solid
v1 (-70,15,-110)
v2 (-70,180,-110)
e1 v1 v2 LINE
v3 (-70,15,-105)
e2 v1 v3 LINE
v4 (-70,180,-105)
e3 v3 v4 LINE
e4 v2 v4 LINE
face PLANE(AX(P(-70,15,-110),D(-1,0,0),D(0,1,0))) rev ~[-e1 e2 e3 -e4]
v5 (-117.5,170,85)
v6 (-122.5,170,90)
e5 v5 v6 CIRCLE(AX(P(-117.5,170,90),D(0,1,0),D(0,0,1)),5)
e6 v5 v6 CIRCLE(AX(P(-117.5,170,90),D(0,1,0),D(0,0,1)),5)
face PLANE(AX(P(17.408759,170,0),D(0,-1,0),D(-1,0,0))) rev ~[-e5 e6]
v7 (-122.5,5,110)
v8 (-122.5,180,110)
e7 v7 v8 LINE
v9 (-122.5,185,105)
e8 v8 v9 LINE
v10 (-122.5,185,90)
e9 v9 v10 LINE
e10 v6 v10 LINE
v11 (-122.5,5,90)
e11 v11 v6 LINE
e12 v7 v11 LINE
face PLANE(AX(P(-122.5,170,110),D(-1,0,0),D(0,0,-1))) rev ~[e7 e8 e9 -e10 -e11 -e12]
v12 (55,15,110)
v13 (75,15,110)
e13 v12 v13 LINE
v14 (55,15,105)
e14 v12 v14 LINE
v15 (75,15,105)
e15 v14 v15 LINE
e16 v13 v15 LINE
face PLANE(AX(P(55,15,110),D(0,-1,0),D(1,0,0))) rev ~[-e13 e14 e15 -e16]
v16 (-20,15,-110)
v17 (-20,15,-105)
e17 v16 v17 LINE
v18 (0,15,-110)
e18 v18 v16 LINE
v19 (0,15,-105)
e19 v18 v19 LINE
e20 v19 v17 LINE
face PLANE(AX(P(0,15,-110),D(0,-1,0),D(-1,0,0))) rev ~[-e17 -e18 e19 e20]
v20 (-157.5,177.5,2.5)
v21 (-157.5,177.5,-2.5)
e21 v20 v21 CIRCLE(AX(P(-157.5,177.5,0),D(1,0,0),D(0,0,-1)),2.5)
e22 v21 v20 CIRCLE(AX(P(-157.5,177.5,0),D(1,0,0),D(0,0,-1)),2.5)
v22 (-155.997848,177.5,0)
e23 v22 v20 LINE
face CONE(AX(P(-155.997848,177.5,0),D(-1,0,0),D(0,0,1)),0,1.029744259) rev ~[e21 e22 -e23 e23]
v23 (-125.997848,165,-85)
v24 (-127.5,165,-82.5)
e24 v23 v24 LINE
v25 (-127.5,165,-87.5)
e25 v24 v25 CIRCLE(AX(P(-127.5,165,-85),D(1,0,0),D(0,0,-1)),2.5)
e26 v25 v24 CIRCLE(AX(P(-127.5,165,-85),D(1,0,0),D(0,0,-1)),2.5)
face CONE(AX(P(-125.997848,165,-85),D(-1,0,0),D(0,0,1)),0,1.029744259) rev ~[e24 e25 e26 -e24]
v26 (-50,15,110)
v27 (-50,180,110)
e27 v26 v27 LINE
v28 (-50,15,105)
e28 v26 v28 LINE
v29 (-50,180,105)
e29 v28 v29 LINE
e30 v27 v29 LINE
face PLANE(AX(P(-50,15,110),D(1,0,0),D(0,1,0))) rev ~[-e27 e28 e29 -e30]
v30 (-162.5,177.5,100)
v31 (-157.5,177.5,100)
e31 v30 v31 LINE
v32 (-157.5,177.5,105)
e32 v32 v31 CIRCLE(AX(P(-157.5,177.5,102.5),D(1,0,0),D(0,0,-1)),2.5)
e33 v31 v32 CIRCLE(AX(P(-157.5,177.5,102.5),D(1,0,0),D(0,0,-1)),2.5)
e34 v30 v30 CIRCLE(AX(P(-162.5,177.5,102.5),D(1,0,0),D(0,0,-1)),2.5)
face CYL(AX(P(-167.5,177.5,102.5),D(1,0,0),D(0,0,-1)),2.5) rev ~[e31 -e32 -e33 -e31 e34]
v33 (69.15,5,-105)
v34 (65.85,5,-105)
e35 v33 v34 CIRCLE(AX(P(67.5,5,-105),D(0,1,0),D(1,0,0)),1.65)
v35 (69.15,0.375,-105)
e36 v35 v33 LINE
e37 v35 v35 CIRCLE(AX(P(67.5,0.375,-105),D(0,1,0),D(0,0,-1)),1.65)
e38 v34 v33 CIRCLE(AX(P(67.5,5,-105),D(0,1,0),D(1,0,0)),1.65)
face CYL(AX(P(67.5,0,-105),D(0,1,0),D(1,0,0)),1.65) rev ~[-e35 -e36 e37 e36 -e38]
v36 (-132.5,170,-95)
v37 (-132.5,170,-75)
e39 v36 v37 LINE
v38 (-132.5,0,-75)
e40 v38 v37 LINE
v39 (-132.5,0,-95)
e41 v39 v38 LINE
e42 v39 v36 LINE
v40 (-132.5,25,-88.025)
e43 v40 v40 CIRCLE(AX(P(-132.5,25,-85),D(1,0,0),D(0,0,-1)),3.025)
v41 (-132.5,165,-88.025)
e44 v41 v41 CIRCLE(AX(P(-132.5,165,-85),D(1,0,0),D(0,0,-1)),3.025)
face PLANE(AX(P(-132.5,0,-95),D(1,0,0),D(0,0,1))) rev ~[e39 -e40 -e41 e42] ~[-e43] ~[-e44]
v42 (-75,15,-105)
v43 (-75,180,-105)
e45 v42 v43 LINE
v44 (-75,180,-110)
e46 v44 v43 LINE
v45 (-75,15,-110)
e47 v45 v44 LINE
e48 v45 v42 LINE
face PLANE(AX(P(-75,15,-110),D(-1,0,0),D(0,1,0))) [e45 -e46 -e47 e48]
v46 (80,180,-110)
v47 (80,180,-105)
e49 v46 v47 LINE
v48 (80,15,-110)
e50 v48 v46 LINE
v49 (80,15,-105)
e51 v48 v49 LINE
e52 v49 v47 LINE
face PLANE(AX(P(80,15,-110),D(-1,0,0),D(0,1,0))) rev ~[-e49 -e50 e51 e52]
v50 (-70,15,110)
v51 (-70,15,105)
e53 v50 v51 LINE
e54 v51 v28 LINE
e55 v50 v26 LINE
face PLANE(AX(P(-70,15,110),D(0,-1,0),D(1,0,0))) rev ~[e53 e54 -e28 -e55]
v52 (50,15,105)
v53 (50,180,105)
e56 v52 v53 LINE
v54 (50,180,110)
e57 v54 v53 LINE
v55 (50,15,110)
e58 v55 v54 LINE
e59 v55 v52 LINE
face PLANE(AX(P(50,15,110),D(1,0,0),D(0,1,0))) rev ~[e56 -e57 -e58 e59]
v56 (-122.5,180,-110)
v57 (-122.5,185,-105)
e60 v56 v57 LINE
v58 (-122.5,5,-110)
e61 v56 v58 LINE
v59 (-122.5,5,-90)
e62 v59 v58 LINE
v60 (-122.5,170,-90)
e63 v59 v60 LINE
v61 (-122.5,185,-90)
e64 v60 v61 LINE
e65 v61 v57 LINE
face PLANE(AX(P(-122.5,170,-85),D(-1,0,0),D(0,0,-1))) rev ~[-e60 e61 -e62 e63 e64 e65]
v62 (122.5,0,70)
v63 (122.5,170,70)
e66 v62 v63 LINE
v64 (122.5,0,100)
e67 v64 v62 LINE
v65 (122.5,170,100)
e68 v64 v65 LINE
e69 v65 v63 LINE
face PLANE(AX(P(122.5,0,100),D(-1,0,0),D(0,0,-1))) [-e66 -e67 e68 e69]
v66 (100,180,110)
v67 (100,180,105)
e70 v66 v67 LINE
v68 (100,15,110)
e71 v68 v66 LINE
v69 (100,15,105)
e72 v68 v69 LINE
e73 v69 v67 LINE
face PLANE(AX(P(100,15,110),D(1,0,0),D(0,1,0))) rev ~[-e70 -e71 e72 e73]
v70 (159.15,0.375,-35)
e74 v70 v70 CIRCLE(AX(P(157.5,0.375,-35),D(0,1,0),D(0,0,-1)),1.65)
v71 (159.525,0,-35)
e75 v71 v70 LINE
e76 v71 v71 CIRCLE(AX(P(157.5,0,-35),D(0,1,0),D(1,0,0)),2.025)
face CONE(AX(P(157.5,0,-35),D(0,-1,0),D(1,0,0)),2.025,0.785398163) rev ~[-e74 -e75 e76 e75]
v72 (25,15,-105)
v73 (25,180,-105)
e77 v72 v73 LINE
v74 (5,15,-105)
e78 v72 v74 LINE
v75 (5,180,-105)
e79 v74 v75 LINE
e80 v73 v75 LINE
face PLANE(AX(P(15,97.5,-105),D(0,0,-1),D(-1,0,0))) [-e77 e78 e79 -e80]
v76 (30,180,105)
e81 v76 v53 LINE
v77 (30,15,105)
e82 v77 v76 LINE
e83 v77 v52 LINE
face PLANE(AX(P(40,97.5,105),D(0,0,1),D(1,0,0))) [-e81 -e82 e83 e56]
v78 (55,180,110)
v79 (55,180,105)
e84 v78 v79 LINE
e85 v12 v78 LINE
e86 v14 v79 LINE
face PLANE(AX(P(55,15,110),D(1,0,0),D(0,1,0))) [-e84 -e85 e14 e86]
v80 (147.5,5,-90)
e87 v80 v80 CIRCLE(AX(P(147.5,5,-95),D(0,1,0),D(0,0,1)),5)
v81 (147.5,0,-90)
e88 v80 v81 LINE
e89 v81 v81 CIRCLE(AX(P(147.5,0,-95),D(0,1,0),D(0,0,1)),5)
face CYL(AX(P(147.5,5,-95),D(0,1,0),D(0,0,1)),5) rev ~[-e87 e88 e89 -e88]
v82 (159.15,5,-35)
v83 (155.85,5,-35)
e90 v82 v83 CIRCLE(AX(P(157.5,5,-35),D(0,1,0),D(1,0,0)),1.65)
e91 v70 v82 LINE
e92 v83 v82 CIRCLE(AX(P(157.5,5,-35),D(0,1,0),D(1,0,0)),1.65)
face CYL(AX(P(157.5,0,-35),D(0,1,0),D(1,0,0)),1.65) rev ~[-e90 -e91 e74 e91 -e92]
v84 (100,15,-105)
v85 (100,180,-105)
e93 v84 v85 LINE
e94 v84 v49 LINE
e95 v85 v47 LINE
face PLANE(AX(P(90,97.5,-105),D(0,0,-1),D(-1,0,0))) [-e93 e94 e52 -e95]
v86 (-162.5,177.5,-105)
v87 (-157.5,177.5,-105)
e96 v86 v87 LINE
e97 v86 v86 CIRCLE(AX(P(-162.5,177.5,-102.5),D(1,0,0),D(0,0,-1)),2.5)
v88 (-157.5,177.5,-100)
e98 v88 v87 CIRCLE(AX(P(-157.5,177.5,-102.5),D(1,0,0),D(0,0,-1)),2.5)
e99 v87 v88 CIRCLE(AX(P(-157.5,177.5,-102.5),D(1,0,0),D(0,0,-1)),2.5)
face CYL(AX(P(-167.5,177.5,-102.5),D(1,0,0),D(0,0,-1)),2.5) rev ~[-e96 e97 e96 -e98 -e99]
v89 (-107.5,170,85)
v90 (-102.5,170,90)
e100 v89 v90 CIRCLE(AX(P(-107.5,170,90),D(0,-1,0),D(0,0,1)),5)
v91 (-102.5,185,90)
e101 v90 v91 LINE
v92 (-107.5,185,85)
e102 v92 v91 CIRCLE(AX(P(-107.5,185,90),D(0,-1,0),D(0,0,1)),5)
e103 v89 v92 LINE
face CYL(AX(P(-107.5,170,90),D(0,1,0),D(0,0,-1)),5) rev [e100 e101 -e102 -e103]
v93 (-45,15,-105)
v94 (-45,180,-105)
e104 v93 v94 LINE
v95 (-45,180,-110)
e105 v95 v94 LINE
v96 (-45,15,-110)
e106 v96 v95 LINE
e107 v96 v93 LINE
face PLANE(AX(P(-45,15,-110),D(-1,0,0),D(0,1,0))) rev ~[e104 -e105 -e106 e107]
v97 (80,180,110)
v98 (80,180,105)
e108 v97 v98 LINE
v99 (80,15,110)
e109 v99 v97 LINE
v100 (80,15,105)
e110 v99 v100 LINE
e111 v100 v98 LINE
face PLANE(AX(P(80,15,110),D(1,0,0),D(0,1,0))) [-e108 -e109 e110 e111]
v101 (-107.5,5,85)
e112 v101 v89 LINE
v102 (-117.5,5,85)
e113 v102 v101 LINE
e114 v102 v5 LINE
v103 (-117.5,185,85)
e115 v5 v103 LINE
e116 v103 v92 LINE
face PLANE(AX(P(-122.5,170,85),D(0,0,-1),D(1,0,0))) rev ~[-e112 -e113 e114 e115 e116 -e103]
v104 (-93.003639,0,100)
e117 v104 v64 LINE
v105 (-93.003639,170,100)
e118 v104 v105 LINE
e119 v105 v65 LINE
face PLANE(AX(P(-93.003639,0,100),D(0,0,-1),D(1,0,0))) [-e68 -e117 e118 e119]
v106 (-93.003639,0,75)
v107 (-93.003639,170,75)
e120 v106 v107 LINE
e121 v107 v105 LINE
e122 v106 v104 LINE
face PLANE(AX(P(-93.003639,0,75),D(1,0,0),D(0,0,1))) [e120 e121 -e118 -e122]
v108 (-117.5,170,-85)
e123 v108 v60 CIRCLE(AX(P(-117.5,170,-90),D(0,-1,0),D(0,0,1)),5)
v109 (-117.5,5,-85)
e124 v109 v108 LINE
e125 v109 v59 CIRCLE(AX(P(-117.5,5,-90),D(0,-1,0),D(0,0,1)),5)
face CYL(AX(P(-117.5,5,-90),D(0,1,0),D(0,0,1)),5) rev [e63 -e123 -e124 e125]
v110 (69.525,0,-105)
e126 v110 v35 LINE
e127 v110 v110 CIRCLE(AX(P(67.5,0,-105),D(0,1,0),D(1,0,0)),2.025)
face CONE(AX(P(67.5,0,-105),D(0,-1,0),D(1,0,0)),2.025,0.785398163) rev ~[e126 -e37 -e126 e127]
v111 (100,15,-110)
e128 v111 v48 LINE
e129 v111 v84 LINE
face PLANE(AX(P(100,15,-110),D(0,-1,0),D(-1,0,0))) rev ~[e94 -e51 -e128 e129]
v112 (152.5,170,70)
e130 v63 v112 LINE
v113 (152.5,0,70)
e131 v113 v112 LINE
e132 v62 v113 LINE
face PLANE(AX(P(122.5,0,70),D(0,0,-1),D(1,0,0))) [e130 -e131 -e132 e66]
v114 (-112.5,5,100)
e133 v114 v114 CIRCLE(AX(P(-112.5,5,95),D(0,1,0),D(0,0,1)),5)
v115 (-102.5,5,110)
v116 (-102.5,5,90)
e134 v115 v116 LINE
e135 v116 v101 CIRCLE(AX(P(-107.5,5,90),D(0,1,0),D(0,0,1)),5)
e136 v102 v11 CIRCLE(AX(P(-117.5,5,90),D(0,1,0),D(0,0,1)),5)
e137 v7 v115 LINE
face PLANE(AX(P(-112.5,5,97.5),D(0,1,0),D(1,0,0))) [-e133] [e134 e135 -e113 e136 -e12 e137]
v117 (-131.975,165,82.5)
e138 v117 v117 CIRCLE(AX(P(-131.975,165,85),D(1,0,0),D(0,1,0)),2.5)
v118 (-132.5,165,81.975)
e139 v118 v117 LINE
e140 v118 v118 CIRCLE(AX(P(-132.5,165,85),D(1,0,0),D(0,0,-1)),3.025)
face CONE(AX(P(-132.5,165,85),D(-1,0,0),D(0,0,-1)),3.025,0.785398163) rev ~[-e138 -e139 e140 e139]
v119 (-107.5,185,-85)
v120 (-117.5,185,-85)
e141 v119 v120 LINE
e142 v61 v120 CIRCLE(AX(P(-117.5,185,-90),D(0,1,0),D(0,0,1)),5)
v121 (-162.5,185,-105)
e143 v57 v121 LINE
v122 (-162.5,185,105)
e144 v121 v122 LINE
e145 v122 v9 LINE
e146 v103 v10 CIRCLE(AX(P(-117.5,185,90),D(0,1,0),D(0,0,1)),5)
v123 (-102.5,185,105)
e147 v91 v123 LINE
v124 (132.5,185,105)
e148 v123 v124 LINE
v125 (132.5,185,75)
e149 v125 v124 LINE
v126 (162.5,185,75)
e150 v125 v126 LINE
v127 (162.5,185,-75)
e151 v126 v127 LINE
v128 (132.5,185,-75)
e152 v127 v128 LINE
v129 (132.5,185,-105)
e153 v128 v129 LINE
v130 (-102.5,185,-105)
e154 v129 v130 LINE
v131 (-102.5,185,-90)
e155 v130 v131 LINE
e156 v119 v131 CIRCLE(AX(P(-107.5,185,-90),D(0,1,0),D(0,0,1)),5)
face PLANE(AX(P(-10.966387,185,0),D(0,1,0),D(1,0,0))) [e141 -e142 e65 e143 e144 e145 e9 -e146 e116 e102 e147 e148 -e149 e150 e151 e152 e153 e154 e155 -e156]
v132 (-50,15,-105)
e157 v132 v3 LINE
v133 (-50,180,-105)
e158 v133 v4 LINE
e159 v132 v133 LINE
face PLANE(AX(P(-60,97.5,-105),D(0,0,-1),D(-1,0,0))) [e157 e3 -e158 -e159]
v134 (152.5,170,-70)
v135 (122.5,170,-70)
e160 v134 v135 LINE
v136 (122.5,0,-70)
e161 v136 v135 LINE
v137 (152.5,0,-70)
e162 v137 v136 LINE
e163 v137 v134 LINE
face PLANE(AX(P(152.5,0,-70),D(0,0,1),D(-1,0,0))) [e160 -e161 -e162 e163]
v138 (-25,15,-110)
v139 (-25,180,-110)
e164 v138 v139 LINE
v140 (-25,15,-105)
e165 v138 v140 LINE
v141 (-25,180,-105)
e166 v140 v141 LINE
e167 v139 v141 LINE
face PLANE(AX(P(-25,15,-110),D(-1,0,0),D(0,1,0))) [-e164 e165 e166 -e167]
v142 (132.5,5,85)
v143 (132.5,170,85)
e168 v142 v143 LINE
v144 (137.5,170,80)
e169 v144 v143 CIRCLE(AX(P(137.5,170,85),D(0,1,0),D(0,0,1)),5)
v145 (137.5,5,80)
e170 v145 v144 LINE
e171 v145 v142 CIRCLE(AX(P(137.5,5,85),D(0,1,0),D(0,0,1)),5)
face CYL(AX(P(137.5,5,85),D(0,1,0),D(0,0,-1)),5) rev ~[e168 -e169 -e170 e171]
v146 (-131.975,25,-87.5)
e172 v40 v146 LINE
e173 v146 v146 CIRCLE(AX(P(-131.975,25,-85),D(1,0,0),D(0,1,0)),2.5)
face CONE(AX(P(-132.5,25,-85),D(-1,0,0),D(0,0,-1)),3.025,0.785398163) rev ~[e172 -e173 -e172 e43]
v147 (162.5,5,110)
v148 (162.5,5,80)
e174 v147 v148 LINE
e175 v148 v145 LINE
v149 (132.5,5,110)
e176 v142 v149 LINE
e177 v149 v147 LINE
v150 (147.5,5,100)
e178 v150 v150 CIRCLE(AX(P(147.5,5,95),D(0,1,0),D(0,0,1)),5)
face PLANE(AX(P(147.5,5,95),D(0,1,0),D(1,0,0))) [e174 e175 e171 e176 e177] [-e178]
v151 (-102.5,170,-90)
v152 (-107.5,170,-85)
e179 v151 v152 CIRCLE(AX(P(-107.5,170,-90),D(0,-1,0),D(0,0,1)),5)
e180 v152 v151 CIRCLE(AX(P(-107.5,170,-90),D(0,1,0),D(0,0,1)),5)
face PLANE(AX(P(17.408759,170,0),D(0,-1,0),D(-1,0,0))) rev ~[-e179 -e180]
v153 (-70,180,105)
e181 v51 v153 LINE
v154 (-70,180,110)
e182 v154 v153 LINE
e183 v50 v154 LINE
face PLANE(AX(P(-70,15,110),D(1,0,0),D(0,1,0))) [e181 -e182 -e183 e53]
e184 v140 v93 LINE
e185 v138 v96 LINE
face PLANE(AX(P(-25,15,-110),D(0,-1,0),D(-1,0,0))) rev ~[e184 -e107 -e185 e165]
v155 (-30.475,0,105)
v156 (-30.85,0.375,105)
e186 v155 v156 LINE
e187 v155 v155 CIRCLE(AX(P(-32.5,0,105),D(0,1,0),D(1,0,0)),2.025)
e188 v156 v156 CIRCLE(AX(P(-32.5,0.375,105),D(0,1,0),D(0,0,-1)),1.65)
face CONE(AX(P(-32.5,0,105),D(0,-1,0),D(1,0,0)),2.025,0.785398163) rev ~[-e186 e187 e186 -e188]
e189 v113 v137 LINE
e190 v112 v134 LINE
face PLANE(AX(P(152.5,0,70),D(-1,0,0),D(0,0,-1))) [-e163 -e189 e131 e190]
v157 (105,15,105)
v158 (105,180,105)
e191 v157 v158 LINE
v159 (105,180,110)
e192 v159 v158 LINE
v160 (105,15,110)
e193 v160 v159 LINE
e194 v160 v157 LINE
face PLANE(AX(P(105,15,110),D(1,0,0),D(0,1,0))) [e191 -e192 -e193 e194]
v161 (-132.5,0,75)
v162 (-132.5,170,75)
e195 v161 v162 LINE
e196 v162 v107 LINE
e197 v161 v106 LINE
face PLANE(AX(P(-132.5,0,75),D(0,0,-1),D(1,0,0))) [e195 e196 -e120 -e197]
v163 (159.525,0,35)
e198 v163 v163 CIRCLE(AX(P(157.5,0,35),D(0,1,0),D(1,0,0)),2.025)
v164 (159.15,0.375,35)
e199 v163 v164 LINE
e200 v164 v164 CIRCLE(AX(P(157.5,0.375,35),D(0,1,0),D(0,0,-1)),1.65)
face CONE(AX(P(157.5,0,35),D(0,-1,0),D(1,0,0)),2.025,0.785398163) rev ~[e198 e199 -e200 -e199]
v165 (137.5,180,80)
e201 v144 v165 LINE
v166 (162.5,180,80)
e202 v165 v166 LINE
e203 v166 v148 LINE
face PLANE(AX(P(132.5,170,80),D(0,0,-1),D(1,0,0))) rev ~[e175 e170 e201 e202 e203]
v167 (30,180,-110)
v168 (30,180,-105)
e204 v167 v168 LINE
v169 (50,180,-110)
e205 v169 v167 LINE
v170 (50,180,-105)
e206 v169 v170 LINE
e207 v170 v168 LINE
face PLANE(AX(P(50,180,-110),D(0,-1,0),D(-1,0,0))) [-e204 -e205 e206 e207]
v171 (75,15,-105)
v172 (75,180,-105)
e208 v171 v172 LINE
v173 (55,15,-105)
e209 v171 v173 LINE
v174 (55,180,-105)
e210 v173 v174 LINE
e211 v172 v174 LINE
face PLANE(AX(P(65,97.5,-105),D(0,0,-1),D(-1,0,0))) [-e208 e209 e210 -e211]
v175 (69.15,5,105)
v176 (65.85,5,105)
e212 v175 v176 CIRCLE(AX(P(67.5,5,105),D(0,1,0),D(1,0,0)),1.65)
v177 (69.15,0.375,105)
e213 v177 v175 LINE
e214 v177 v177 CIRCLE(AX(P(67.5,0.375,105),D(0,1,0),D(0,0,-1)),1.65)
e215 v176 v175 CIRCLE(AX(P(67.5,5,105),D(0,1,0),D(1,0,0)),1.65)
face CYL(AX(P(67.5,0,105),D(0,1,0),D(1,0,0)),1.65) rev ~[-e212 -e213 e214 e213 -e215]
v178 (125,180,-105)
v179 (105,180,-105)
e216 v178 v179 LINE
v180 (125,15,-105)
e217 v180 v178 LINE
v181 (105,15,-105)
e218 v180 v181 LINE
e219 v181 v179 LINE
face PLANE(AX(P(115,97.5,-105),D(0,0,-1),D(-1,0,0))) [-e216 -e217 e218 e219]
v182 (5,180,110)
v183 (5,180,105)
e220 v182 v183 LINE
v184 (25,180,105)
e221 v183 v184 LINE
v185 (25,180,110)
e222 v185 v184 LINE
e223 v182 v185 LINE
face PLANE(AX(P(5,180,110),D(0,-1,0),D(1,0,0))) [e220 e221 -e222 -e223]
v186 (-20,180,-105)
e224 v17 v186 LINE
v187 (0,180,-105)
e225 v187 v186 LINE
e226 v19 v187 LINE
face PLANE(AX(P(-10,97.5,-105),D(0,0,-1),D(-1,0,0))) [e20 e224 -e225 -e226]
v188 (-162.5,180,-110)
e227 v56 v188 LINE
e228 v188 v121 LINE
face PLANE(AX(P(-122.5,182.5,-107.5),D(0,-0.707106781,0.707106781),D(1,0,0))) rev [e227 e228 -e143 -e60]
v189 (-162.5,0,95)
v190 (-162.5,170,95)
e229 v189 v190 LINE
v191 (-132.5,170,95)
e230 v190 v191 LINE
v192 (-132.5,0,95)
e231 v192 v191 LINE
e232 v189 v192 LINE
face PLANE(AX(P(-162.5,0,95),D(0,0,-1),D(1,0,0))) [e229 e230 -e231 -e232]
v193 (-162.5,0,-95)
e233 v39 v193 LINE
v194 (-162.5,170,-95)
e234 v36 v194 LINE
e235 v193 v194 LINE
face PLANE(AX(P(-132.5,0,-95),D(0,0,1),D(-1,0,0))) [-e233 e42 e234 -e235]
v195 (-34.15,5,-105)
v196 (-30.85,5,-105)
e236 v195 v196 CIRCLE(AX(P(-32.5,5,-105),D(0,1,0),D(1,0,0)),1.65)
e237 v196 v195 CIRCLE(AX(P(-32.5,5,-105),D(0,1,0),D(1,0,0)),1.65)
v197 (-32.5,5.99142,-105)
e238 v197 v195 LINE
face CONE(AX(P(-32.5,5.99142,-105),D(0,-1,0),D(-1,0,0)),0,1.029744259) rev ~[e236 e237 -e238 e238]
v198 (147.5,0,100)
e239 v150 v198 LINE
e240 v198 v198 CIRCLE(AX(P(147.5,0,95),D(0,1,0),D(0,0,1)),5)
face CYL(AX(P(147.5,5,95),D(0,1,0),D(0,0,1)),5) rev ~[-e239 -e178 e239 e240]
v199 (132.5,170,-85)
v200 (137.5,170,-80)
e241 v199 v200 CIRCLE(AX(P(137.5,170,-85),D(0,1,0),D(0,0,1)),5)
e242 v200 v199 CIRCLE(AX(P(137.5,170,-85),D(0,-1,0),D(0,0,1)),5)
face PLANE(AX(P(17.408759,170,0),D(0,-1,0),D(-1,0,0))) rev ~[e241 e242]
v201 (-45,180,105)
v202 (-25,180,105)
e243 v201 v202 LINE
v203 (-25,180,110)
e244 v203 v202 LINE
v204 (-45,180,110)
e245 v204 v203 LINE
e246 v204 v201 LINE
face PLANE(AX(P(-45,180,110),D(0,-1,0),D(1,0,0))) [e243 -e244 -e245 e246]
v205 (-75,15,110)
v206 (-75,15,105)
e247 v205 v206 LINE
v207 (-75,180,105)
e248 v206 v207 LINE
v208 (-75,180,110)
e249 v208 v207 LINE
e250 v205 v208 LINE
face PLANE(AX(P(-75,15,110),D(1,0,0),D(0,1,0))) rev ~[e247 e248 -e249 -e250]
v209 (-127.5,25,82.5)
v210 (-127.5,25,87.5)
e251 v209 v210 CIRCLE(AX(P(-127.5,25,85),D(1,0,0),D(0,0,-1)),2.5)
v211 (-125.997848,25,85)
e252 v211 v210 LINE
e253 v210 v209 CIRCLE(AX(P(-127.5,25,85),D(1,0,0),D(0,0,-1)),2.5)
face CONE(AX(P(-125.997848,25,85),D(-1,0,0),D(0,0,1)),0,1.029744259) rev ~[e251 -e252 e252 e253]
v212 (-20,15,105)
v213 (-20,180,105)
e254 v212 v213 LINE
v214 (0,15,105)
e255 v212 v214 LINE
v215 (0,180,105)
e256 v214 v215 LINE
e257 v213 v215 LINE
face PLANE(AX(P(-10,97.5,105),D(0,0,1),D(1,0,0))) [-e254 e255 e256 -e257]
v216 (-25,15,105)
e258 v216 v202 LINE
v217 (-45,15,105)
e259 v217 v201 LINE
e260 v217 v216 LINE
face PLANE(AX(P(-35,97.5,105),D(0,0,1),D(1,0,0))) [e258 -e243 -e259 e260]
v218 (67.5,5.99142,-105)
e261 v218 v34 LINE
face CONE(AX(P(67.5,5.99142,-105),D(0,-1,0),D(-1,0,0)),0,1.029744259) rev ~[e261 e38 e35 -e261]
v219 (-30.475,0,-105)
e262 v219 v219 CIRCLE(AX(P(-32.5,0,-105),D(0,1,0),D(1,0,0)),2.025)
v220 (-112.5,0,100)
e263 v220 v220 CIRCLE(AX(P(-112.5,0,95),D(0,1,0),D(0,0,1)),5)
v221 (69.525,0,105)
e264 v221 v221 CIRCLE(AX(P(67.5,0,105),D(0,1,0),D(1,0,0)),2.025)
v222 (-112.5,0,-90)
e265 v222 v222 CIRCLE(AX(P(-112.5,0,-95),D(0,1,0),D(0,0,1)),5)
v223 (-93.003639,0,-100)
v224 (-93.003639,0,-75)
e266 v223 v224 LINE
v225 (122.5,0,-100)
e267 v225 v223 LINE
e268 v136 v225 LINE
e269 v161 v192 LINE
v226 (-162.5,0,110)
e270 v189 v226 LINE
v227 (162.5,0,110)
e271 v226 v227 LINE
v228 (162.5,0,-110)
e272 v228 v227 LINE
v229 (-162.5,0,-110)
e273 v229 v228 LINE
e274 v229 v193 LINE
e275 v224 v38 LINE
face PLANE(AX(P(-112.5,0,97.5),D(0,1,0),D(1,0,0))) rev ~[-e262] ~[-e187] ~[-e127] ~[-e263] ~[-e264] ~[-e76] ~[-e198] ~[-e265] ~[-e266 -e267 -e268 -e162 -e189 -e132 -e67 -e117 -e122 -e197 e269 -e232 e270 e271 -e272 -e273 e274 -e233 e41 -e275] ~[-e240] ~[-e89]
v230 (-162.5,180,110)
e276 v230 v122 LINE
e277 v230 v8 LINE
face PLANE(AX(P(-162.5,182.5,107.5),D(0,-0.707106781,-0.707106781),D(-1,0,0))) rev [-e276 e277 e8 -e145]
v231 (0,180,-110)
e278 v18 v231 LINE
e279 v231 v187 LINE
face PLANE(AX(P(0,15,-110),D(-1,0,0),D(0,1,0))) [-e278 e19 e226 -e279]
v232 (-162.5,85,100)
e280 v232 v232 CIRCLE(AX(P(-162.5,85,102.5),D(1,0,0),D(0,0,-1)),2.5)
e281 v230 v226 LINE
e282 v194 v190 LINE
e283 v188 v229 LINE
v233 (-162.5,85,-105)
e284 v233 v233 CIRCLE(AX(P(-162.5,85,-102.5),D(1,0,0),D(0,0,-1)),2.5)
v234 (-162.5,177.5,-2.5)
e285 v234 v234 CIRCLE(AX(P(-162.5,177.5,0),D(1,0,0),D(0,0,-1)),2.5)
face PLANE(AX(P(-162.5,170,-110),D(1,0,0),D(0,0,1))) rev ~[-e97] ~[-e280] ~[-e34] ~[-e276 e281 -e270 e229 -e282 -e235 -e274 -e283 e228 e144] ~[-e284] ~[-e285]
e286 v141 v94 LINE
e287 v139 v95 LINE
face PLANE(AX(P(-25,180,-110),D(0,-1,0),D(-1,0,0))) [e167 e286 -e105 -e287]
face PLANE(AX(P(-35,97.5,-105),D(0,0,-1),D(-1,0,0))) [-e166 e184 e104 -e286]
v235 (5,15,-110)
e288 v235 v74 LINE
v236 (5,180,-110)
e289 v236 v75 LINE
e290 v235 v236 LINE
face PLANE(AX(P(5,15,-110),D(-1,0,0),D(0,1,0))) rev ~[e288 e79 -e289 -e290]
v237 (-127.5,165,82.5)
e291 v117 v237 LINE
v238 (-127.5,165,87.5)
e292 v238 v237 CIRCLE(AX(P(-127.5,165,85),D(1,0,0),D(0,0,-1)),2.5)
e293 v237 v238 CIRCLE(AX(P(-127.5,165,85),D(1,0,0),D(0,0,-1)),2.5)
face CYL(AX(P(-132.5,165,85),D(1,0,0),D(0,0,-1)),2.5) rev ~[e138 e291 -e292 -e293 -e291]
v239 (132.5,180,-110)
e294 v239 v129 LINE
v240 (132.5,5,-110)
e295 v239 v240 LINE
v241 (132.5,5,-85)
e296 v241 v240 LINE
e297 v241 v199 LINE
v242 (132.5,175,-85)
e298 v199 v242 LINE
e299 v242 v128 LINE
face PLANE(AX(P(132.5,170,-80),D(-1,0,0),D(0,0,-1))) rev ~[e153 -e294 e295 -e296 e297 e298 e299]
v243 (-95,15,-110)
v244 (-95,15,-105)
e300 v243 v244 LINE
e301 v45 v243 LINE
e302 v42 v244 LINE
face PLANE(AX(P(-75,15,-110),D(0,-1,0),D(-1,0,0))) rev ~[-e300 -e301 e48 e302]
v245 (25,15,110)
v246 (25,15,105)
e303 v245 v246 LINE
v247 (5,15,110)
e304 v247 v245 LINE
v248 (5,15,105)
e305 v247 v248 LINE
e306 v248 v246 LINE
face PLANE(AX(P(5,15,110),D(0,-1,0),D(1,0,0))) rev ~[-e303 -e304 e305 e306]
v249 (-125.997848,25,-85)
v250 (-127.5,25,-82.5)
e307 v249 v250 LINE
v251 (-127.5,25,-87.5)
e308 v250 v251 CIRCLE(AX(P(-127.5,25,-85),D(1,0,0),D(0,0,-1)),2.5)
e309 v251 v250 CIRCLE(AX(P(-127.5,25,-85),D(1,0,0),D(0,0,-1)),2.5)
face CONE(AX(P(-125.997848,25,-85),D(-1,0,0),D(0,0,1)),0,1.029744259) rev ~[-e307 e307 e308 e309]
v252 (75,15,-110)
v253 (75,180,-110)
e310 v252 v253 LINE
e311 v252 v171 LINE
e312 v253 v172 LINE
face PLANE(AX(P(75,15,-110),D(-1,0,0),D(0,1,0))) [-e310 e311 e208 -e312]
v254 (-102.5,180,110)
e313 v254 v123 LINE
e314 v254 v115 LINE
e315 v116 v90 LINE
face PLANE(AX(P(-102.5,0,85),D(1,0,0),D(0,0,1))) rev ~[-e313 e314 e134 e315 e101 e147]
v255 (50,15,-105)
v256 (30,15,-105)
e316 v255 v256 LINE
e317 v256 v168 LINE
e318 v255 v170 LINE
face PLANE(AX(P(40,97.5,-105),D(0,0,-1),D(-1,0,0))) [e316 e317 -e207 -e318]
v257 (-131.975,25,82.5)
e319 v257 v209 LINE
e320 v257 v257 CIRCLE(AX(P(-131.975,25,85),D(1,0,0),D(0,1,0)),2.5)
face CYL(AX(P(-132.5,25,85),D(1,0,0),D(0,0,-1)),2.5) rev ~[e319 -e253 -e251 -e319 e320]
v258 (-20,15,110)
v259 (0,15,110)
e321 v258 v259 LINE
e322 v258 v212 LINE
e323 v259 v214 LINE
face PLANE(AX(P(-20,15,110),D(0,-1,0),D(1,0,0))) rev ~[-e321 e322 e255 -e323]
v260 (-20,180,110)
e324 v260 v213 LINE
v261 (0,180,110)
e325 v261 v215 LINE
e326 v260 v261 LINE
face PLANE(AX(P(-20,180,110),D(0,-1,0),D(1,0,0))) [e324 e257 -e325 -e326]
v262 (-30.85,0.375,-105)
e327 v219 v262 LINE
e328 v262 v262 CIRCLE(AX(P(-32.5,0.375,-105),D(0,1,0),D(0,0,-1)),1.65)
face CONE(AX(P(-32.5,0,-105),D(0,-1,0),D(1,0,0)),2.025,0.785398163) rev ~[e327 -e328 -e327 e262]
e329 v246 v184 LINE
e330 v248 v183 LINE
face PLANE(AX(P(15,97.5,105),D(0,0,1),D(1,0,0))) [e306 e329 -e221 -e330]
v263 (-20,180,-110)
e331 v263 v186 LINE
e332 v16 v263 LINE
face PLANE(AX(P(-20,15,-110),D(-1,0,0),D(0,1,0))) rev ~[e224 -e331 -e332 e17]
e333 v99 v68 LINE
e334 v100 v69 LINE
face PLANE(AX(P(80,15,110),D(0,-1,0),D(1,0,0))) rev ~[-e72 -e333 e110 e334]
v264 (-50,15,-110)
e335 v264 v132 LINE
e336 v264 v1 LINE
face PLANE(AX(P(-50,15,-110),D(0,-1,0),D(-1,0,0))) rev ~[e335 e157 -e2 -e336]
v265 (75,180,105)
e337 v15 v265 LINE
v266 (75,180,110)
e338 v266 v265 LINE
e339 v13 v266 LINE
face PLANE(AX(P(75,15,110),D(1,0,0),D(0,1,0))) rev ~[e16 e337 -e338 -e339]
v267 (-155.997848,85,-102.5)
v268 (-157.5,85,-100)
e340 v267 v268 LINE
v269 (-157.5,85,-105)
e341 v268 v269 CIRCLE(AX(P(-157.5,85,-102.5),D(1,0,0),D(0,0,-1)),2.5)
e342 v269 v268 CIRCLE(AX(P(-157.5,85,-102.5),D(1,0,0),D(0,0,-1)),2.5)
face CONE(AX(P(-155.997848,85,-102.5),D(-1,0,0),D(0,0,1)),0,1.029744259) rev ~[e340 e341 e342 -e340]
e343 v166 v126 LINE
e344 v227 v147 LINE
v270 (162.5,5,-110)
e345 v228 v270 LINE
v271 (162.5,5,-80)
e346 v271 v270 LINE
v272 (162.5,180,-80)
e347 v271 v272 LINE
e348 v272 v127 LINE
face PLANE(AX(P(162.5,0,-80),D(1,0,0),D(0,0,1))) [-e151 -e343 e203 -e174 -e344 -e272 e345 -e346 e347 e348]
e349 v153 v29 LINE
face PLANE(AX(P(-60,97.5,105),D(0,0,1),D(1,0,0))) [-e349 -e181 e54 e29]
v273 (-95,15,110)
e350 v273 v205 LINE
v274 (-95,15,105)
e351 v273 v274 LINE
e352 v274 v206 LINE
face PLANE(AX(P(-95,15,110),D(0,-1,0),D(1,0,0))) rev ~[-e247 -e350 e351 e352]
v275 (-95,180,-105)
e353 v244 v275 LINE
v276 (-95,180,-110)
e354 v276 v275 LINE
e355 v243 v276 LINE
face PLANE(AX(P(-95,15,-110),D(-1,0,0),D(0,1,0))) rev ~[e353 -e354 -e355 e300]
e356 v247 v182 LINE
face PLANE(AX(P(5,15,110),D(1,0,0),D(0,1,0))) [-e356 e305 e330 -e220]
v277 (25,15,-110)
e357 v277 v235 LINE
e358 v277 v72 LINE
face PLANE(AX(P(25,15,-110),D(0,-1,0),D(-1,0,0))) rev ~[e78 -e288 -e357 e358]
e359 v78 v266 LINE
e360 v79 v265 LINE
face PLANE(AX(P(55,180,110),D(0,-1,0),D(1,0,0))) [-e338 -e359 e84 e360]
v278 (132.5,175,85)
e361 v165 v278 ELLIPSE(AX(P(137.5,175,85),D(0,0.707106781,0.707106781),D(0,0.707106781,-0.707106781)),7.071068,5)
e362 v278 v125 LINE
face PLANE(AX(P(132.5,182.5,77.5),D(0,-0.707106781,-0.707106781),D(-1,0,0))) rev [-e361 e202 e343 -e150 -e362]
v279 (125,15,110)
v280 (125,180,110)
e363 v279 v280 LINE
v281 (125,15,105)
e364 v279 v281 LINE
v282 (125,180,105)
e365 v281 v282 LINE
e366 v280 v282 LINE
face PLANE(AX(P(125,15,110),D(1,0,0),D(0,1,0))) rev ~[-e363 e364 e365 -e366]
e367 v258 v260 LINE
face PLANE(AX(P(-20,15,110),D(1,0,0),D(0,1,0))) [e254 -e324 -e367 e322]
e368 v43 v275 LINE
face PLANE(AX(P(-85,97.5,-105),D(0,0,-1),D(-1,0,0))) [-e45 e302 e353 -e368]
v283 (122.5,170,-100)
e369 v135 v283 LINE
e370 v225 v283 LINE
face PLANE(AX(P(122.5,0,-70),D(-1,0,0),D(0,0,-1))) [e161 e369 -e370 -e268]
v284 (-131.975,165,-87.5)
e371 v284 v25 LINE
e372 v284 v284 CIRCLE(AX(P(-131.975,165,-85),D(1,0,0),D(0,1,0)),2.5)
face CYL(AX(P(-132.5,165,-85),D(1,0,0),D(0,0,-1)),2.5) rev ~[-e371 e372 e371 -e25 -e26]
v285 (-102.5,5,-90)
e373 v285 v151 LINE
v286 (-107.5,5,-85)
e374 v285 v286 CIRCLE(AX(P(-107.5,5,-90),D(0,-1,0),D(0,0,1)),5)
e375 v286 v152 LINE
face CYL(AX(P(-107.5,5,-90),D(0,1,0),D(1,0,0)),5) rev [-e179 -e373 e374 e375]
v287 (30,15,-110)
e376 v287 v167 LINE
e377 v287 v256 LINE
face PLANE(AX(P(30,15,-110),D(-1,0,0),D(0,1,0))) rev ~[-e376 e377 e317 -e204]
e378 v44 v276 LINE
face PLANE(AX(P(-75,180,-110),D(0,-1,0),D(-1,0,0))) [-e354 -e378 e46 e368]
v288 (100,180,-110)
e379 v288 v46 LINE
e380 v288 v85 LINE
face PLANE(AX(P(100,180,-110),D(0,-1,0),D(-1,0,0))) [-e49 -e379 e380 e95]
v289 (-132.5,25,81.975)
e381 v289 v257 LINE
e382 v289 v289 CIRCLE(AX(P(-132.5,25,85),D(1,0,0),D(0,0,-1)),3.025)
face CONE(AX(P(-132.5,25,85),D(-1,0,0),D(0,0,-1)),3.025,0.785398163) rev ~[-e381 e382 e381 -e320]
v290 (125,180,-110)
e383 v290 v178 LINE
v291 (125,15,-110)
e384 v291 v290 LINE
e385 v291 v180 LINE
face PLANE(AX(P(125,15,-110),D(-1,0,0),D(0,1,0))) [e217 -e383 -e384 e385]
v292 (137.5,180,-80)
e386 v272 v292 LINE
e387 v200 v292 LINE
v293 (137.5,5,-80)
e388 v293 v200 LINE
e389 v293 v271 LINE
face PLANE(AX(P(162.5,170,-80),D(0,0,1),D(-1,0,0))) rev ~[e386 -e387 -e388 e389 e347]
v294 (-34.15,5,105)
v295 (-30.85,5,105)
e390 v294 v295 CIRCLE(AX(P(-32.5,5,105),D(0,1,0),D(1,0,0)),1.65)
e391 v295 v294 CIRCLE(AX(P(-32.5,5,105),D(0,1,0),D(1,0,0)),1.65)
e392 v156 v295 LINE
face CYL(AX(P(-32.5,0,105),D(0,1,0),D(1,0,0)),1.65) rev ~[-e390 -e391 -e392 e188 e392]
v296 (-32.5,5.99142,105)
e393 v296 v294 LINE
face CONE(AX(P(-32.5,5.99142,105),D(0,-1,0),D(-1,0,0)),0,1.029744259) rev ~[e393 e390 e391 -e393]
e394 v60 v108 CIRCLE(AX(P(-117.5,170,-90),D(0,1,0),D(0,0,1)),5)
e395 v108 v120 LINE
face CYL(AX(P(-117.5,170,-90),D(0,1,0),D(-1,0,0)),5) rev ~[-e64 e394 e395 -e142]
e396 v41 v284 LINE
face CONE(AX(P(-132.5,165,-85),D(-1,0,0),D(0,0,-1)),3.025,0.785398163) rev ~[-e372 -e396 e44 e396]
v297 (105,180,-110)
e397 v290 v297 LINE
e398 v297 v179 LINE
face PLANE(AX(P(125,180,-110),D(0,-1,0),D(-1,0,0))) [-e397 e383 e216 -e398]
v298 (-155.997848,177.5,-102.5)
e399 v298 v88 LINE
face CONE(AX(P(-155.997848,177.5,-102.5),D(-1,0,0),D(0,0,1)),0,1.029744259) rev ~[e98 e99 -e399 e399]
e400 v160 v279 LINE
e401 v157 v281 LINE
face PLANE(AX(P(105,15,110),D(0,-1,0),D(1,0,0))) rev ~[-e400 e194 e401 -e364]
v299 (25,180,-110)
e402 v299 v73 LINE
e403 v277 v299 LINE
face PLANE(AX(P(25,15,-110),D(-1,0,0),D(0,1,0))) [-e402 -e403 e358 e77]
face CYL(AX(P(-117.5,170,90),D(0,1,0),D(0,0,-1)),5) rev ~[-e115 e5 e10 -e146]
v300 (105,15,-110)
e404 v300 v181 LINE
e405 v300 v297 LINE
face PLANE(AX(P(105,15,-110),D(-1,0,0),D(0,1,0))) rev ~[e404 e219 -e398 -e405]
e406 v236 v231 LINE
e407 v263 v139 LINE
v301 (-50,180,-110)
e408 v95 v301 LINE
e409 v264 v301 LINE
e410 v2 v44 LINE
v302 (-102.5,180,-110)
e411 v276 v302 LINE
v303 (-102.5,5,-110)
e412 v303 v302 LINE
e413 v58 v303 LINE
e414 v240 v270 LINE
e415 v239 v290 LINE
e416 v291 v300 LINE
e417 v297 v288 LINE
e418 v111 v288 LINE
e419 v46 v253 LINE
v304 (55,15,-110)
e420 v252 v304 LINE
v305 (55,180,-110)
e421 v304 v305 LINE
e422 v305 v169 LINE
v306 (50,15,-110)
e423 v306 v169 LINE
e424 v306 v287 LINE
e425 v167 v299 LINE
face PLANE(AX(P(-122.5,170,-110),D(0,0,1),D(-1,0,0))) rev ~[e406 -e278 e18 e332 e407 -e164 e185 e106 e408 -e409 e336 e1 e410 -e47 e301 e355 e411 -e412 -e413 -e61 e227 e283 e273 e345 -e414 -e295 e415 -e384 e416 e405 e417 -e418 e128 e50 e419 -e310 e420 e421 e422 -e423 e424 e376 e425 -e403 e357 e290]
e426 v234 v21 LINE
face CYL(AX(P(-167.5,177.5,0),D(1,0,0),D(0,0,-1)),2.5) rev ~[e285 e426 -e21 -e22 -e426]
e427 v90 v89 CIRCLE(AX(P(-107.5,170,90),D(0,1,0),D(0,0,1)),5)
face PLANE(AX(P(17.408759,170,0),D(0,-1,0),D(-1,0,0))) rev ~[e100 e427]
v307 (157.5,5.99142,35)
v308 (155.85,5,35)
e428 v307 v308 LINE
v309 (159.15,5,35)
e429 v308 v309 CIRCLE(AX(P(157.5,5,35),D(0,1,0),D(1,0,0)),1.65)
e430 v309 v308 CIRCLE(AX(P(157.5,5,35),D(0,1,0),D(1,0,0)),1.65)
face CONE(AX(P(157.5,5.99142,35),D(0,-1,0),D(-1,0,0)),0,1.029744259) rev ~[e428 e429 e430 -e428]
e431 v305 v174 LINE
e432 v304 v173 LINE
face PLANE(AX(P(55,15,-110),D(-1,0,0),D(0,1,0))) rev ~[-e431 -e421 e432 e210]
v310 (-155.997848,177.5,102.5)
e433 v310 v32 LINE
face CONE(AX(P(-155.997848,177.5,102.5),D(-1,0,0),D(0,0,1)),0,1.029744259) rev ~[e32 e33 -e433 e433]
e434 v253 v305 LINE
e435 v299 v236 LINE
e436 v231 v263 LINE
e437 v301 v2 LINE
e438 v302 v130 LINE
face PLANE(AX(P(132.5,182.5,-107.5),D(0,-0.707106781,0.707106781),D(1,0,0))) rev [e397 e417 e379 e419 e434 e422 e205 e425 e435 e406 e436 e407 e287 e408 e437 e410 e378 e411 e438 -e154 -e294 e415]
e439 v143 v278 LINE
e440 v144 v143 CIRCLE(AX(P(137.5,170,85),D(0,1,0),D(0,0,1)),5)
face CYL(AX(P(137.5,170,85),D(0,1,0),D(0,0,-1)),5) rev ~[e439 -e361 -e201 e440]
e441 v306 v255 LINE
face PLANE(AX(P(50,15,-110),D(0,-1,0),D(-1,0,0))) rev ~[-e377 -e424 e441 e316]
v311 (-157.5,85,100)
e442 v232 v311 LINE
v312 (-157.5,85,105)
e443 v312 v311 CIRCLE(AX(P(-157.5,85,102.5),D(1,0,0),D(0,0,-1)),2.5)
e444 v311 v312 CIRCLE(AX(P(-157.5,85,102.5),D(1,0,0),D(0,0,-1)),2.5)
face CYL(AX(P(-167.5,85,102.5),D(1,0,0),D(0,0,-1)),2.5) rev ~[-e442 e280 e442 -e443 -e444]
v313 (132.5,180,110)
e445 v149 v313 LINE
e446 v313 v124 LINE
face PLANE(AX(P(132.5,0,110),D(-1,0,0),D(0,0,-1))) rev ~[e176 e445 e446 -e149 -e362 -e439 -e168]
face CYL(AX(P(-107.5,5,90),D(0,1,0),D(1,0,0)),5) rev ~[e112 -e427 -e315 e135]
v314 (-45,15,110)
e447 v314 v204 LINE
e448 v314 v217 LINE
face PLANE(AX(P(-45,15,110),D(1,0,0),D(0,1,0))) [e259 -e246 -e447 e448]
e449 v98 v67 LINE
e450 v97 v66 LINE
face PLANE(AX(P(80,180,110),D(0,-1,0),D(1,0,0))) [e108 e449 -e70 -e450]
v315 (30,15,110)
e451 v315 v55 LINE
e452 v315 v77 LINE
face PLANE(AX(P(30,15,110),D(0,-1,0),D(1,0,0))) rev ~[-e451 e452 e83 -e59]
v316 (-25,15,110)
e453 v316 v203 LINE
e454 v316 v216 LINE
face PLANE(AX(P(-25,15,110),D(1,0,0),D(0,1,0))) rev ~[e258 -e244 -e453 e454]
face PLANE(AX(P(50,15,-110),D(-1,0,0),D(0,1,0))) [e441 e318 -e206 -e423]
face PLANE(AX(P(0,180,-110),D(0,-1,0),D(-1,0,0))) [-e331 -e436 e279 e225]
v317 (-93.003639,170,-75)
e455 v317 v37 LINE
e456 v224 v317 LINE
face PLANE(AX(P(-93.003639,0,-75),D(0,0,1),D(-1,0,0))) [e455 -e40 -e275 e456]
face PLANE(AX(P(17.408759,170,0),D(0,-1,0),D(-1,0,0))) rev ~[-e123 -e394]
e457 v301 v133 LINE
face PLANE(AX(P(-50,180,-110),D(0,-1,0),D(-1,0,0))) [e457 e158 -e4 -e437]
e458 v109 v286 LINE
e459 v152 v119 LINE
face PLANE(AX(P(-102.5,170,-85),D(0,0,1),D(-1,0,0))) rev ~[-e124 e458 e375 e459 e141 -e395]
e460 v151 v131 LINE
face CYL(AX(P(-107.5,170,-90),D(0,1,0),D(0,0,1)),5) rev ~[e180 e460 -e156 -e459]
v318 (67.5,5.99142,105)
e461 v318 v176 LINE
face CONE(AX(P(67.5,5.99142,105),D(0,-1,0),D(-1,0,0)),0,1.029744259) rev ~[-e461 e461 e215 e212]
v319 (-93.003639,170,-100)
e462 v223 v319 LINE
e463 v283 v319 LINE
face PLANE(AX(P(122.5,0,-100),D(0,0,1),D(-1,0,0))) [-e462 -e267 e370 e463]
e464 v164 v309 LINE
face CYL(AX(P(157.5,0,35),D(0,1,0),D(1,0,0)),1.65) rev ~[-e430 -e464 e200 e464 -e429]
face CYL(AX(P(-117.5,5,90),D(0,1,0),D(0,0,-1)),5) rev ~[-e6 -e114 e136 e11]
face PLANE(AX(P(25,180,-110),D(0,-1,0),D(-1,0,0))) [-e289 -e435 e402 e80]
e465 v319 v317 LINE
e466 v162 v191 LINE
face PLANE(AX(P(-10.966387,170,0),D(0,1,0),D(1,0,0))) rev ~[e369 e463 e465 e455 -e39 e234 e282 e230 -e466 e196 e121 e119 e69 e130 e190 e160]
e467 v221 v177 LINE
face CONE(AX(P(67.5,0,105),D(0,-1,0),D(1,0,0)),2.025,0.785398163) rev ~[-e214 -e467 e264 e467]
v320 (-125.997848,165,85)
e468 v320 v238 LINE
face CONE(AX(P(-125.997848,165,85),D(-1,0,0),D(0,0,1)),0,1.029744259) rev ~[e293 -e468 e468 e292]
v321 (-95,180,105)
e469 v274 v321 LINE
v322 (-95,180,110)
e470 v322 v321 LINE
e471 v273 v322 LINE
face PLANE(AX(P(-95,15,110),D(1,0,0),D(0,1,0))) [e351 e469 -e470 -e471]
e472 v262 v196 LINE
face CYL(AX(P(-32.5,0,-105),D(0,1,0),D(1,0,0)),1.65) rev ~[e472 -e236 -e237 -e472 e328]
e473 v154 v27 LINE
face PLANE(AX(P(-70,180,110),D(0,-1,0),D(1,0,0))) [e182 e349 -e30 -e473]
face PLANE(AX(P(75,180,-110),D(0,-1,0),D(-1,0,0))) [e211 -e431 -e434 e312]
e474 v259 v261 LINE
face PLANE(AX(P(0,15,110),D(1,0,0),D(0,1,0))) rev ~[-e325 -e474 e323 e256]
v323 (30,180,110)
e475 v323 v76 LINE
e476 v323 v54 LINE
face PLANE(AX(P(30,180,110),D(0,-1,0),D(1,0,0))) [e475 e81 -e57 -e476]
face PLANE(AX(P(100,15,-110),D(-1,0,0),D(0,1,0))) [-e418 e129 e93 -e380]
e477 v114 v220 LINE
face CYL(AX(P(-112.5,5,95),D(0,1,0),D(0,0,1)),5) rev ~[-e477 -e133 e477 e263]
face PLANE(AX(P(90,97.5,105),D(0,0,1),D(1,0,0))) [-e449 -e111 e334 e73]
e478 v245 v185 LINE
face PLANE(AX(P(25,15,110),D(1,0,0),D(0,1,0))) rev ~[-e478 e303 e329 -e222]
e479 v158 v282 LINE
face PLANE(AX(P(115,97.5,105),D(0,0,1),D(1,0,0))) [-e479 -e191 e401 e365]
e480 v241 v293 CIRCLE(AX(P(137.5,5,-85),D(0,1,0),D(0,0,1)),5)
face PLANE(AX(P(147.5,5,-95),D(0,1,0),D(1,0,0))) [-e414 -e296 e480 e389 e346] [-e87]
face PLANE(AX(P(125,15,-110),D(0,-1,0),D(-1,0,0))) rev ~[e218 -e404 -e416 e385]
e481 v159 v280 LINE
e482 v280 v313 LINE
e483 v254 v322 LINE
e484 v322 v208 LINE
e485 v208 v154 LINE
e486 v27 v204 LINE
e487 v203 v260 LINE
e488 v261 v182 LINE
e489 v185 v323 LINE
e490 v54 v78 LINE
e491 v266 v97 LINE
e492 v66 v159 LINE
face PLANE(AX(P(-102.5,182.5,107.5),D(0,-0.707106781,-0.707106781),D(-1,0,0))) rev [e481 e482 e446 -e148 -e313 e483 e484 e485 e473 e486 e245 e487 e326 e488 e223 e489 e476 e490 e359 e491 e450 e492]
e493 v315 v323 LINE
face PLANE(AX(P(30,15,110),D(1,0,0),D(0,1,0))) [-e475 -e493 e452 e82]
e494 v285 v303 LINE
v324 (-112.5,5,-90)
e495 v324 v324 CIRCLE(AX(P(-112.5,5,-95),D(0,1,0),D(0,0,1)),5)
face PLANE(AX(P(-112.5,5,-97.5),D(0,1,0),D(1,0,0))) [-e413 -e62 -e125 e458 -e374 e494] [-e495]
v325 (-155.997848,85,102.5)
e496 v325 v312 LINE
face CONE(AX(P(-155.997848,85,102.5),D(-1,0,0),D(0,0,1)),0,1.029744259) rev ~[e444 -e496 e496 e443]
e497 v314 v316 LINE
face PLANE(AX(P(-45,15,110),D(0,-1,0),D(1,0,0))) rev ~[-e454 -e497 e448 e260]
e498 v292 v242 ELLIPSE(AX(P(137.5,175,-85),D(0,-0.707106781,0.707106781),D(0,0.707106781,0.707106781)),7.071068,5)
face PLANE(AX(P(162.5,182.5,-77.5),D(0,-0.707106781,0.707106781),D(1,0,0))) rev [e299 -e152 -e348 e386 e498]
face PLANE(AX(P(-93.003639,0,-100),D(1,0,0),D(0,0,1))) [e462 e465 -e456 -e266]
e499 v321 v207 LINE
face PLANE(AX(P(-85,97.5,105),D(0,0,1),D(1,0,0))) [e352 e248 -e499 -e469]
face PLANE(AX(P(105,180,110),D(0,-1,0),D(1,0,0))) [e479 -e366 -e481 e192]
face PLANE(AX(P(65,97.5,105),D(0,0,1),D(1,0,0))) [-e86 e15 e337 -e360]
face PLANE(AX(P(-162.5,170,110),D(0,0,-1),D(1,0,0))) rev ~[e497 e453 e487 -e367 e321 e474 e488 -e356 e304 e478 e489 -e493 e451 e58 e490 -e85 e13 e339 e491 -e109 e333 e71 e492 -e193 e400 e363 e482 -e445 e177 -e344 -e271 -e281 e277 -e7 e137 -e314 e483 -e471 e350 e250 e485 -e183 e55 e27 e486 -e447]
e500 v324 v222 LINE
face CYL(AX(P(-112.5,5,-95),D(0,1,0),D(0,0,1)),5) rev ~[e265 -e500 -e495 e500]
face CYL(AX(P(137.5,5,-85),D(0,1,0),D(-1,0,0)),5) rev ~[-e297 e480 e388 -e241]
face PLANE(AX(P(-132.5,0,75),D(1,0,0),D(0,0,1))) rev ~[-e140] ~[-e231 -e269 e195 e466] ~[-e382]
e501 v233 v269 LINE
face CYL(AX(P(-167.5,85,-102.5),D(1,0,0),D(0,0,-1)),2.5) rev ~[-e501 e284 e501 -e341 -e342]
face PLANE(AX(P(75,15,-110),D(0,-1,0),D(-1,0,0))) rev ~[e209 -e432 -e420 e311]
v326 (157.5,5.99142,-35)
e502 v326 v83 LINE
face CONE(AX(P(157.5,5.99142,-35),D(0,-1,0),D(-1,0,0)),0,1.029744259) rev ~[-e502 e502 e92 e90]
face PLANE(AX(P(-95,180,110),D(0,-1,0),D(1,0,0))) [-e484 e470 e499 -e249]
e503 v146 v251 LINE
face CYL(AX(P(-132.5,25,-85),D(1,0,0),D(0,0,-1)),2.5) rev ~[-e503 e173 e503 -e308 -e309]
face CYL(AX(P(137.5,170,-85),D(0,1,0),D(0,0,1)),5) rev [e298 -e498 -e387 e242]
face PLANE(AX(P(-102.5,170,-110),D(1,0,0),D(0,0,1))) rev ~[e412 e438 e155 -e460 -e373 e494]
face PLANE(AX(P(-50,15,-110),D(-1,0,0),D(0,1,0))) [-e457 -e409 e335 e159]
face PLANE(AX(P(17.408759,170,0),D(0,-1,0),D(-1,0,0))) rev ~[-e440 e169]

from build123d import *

# Parameters (mm, degrees)
BOSS_EXTRUDE1_DEPTH         = 170
SKETCH3_W                   = 20
SKETCH3_H                   = 25
SKETCH3_W_2                 = 30
SKETCH3_H_2                 = 30
BOSS_EXTRUDE2_DEPTH         = 5
FILLET1_R                   = 5
BOSS_EXTRUDE5_DEPTH         = 15
CHAMFER1_SIZE               = 5
FILLET2_R                   = 5
SKETCH18_W                  = 20
SKETCH18_H                  = 165
CUT_EXTRUDE9_DEPTH          = 5
SKETCH21_W                  = 20
SKETCH21_H                  = 165
CUT_EXTRUDE10_DEPTH         = 5
M4_TAPPED_HOLE1_D           = 3.3
M4_TAPPED_HOLE1_DEPTH       = 5
M4_TAPPED_HOLE1_CSINK_D     = 4.05
M4_TAPPED_HOLE1_CSINK_ANGLE = 90
M4_TAPPED_HOLE1_TIP         = 0.991420021
M6_TAPPED_HOLE1_D           = 5
M6_TAPPED_HOLE1_DEPTH       = 5
M6_TAPPED_HOLE1_CSINK_D     = 6.05
M6_TAPPED_HOLE1_CSINK_ANGLE = 90
M6_TAPPED_HOLE1_TIP         = 1.502151548
M6_TAPPED_HOLE2_D           = 5
M6_TAPPED_HOLE2_DEPTH       = 5
M6_TAPPED_HOLE2_TIP         = 1.502151548
SKETCH31_R                  = 5
CUT_EXTRUDE11_DEPTH         = 267.282275039


with BuildPart() as part:
    # Sketch1 → Boss-Extrude1 (new body)
    with BuildSketch(Plane(origin=(0, 0, 0), x_dir=(1, 0, 0), z_dir=(0, 1, 0))):
        Polygon((162.5, 80), (162.5, -80), (152.5, -80), (147.5, -80), (132.5, -80), (132.5, -95), (132.5, -100), (132.5, -110), (-102.5, -110), (-102.5, -100), (-102.5, -85), (-112.5, -85), (-122.5, -85), (-122.5, -100), (-122.5, -110), (-162.5, -110), (-162.5, -100), (-162.5, -95), (-132.5, -95), (-132.5, -85), (-132.5, -75), (-93.003639463, -75), (-93.003639463, -100), (122.5, -100), (122.5, -70), (152.5, -70), (152.5, 70), (122.5, 70), (122.5, 100), (-93.003639463, 100), (-93.003639463, 75), (-132.5, 75), (-132.5, 85), (-132.5, 95), (-162.5, 95), (-162.5, 100), (-162.5, 110), (-122.5, 110), (-122.5, 100), (-122.5, 85), (-112.5, 85), (-102.5, 85), (-102.5, 100), (-102.5, 110), (132.5, 110), (132.5, 100), (132.5, 95), (132.5, 80), (147.5, 80), (152.5, 80), align=None)
    extrude(amount=BOSS_EXTRUDE1_DEPTH)

    # Sketch3 → Boss-Extrude2 (add)
    with BuildSketch(Plane(origin=(0, 0, 0), x_dir=(1, 0, 0), z_dir=(0, 1, 0))):
        with Locations((-112.5, -97.5)):
            Rectangle(SKETCH3_W, SKETCH3_H)
        Polygon((147.5, -80), (132.5, -80), (132.5, -110), (162.5, -110), (162.5, -80), align=None)
        with Locations((-112.5, 97.5)):
            Rectangle(SKETCH3_W, SKETCH3_H)
        with Locations((147.5, 95)):
            Rectangle(SKETCH3_W_2, SKETCH3_H_2)
    extrude(amount=BOSS_EXTRUDE2_DEPTH)

    # Fillet1
    fillet1_edges = [part.edges().sort_by_distance(p)[0] for p in [
        (-122.5, 87.5, 85),
        (-102.5, 87.5, 85),
        (132.5, 87.5, 80),
        (132.5, 87.5, -80),
        (-102.5, 87.5, -85),
        (-122.5, 87.5, -85),
    ]]
    fillet(fillet1_edges, radius=FILLET1_R)

    # Sketch10 → Boss-Extrude5 (add)
    with BuildSketch(Plane(origin=(0, 170, 0), x_dir=(1, 0, 0), z_dir=(0, 1, 0))):
        Polygon((-162.5, 95), (-162.5, -95), (-162.5, -100), (-162.5, -110), (-122.5, -110), (-122.5, -100), (-122.5, -85), (-112.5, -85), (-102.5, -85), (-102.5, -100), (-102.5, -110), (132.5, -110), (132.5, -100), (132.5, -95), (132.5, -80), (147.5, -80), (152.5, -80), (162.5, -80), (162.5, 80), (152.5, 80), (147.5, 80), (132.5, 80), (132.5, 95), (132.5, 100), (132.5, 110), (-102.5, 110), (-102.5, 100), (-102.5, 85), (-112.5, 85), (-122.5, 85), (-122.5, 100), (-122.5, 110), (-162.5, 110), (-162.5, 100), align=None)
    extrude(amount=BOSS_EXTRUDE5_DEPTH)

    # Chamfer1
    chamfer1_edges = [part.edges().sort_by_distance(p)[0] for p in [
        (147.5, 185, -80),
        (15, 185, -110),
        (-142.5, 185, -110),
        (-142.5, 185, 110),
        (15, 185, 110),
        (147.5, 185, 80),
    ]]
    chamfer(chamfer1_edges, length=CHAMFER1_SIZE)

    # Fillet2
    fillet2_edges = [part.edges().sort_by_distance(p)[0] for p in [
        (-122.5, 177.5, -85),
        (-102.5, 177.5, -85),
        (132.5, 175, -80),
        (132.5, 175, 80),
        (-102.5, 177.5, 85),
        (-122.5, 177.5, 85),
    ]]
    fillet(fillet2_edges, radius=FILLET2_R)

    # Sketch18 → Cut-Extrude9 (cut)
    with BuildSketch(Plane.XY.offset(110)):
        with Locations((-35, 97.5)):
            Rectangle(SKETCH18_W, SKETCH18_H)
        with Locations((-10, 97.5)):
            Rectangle(SKETCH18_W, SKETCH18_H)
        with Locations((15, 97.5)):
            Rectangle(SKETCH18_W, SKETCH18_H)
        with Locations((40, 97.5)):
            Rectangle(SKETCH18_W, SKETCH18_H)
        with Locations((65, 97.5)):
            Rectangle(SKETCH18_W, SKETCH18_H)
        with Locations((90, 97.5)):
            Rectangle(SKETCH18_W, SKETCH18_H)
        with Locations((115, 97.5)):
            Rectangle(SKETCH18_W, SKETCH18_H)
        with Locations((-85, 97.5)):
            Rectangle(SKETCH18_W, SKETCH18_H)
        with Locations((-60, 97.5)):
            Rectangle(SKETCH18_W, SKETCH18_H)
    extrude(amount=-CUT_EXTRUDE9_DEPTH, mode=Mode.SUBTRACT)

    # Sketch21 → Cut-Extrude10 (cut)
    with BuildSketch(Plane(origin=(0, 0, -110), x_dir=(-1, 0, 0), z_dir=(0, 0, -1))):
        with Locations((-90, 97.5)):
            Rectangle(SKETCH21_W, SKETCH21_H)
        with Locations((-65, 97.5)):
            Rectangle(SKETCH21_W, SKETCH21_H)
        with Locations((-40, 97.5)):
            Rectangle(SKETCH21_W, SKETCH21_H)
        with Locations((-15, 97.5)):
            Rectangle(SKETCH21_W, SKETCH21_H)
        with Locations((10, 97.5)):
            Rectangle(SKETCH21_W, SKETCH21_H)
        with Locations((35, 97.5)):
            Rectangle(SKETCH21_W, SKETCH21_H)
        with Locations((60, 97.5)):
            Rectangle(SKETCH21_W, SKETCH21_H)
        with Locations((85, 97.5)):
            Rectangle(SKETCH21_W, SKETCH21_H)
        with Locations((-115, 97.5)):
            Rectangle(SKETCH21_W, SKETCH21_H)
    extrude(amount=-CUT_EXTRUDE10_DEPTH, mode=Mode.SUBTRACT)

    # M4 Tapped Hole1
    with Locations(Plane(origin=(0, 0, 0), x_dir=(-1, 0, 0), z_dir=(0, -1, 0))):
        with Locations((-157.5, 35), (-157.5, -35), (-67.5, -105), (32.5, -105), (32.5, 105), (-67.5, 105)):
            CounterSinkHole(M4_TAPPED_HOLE1_D / 2, M4_TAPPED_HOLE1_CSINK_D / 2, depth=M4_TAPPED_HOLE1_DEPTH, counter_sink_angle=M4_TAPPED_HOLE1_CSINK_ANGLE)
            with Locations((0, 0, -(M4_TAPPED_HOLE1_DEPTH + M4_TAPPED_HOLE1_TIP / 2))):  # 118° drill point
                Cone(0, M4_TAPPED_HOLE1_D / 2, M4_TAPPED_HOLE1_TIP, mode=Mode.SUBTRACT)

    # M6 Tapped Hole1
    with Locations(Plane.ZY.offset(132.5)):
        with Locations((-85, 25), (-85, 165), (85, 165), (85, 25)):
            CounterSinkHole(M6_TAPPED_HOLE1_D / 2, M6_TAPPED_HOLE1_CSINK_D / 2, depth=M6_TAPPED_HOLE1_DEPTH, counter_sink_angle=M6_TAPPED_HOLE1_CSINK_ANGLE)
            with Locations((0, 0, -(M6_TAPPED_HOLE1_DEPTH + M6_TAPPED_HOLE1_TIP / 2))):  # 118° drill point
                Cone(0, M6_TAPPED_HOLE1_D / 2, M6_TAPPED_HOLE1_TIP, mode=Mode.SUBTRACT)

    # M6 Tapped Hole2
    with Locations(Plane.ZY.offset(162.5)):
        with Locations((-102.5, 85), (-102.5, 177.5), (0, 177.5), (102.5, 177.5), (102.5, 85)):
            Hole(M6_TAPPED_HOLE2_D / 2, depth=M6_TAPPED_HOLE2_DEPTH)
            with Locations((0, 0, -(M6_TAPPED_HOLE2_DEPTH + M6_TAPPED_HOLE2_TIP / 2))):  # 118° drill point
                Cone(0, M6_TAPPED_HOLE2_D / 2, M6_TAPPED_HOLE2_TIP, mode=Mode.SUBTRACT)

    # Sketch31 → Cut-Extrude11 (cut, through all)
    with BuildSketch(Plane(origin=(0, 5, 0), x_dir=(1, 0, 0), z_dir=(0, 1, 0))):
        with Locations(Location((147.5, 95, 0), (0, 0, 270))):
            Circle(SKETCH31_R)
        with Locations(Location((-112.5, 95, 0), (0, 0, 270))):
            Circle(SKETCH31_R)
        with Locations(Location((-112.5, -95, 0), (0, 0, 270))):
            Circle(SKETCH31_R)
        with Locations(Location((147.5, -95, 0), (0, 0, 270))):
            Circle(SKETCH31_R)
    extrude(amount=-CUT_EXTRUDE11_DEPTH, mode=Mode.SUBTRACT)


solid = part.part
